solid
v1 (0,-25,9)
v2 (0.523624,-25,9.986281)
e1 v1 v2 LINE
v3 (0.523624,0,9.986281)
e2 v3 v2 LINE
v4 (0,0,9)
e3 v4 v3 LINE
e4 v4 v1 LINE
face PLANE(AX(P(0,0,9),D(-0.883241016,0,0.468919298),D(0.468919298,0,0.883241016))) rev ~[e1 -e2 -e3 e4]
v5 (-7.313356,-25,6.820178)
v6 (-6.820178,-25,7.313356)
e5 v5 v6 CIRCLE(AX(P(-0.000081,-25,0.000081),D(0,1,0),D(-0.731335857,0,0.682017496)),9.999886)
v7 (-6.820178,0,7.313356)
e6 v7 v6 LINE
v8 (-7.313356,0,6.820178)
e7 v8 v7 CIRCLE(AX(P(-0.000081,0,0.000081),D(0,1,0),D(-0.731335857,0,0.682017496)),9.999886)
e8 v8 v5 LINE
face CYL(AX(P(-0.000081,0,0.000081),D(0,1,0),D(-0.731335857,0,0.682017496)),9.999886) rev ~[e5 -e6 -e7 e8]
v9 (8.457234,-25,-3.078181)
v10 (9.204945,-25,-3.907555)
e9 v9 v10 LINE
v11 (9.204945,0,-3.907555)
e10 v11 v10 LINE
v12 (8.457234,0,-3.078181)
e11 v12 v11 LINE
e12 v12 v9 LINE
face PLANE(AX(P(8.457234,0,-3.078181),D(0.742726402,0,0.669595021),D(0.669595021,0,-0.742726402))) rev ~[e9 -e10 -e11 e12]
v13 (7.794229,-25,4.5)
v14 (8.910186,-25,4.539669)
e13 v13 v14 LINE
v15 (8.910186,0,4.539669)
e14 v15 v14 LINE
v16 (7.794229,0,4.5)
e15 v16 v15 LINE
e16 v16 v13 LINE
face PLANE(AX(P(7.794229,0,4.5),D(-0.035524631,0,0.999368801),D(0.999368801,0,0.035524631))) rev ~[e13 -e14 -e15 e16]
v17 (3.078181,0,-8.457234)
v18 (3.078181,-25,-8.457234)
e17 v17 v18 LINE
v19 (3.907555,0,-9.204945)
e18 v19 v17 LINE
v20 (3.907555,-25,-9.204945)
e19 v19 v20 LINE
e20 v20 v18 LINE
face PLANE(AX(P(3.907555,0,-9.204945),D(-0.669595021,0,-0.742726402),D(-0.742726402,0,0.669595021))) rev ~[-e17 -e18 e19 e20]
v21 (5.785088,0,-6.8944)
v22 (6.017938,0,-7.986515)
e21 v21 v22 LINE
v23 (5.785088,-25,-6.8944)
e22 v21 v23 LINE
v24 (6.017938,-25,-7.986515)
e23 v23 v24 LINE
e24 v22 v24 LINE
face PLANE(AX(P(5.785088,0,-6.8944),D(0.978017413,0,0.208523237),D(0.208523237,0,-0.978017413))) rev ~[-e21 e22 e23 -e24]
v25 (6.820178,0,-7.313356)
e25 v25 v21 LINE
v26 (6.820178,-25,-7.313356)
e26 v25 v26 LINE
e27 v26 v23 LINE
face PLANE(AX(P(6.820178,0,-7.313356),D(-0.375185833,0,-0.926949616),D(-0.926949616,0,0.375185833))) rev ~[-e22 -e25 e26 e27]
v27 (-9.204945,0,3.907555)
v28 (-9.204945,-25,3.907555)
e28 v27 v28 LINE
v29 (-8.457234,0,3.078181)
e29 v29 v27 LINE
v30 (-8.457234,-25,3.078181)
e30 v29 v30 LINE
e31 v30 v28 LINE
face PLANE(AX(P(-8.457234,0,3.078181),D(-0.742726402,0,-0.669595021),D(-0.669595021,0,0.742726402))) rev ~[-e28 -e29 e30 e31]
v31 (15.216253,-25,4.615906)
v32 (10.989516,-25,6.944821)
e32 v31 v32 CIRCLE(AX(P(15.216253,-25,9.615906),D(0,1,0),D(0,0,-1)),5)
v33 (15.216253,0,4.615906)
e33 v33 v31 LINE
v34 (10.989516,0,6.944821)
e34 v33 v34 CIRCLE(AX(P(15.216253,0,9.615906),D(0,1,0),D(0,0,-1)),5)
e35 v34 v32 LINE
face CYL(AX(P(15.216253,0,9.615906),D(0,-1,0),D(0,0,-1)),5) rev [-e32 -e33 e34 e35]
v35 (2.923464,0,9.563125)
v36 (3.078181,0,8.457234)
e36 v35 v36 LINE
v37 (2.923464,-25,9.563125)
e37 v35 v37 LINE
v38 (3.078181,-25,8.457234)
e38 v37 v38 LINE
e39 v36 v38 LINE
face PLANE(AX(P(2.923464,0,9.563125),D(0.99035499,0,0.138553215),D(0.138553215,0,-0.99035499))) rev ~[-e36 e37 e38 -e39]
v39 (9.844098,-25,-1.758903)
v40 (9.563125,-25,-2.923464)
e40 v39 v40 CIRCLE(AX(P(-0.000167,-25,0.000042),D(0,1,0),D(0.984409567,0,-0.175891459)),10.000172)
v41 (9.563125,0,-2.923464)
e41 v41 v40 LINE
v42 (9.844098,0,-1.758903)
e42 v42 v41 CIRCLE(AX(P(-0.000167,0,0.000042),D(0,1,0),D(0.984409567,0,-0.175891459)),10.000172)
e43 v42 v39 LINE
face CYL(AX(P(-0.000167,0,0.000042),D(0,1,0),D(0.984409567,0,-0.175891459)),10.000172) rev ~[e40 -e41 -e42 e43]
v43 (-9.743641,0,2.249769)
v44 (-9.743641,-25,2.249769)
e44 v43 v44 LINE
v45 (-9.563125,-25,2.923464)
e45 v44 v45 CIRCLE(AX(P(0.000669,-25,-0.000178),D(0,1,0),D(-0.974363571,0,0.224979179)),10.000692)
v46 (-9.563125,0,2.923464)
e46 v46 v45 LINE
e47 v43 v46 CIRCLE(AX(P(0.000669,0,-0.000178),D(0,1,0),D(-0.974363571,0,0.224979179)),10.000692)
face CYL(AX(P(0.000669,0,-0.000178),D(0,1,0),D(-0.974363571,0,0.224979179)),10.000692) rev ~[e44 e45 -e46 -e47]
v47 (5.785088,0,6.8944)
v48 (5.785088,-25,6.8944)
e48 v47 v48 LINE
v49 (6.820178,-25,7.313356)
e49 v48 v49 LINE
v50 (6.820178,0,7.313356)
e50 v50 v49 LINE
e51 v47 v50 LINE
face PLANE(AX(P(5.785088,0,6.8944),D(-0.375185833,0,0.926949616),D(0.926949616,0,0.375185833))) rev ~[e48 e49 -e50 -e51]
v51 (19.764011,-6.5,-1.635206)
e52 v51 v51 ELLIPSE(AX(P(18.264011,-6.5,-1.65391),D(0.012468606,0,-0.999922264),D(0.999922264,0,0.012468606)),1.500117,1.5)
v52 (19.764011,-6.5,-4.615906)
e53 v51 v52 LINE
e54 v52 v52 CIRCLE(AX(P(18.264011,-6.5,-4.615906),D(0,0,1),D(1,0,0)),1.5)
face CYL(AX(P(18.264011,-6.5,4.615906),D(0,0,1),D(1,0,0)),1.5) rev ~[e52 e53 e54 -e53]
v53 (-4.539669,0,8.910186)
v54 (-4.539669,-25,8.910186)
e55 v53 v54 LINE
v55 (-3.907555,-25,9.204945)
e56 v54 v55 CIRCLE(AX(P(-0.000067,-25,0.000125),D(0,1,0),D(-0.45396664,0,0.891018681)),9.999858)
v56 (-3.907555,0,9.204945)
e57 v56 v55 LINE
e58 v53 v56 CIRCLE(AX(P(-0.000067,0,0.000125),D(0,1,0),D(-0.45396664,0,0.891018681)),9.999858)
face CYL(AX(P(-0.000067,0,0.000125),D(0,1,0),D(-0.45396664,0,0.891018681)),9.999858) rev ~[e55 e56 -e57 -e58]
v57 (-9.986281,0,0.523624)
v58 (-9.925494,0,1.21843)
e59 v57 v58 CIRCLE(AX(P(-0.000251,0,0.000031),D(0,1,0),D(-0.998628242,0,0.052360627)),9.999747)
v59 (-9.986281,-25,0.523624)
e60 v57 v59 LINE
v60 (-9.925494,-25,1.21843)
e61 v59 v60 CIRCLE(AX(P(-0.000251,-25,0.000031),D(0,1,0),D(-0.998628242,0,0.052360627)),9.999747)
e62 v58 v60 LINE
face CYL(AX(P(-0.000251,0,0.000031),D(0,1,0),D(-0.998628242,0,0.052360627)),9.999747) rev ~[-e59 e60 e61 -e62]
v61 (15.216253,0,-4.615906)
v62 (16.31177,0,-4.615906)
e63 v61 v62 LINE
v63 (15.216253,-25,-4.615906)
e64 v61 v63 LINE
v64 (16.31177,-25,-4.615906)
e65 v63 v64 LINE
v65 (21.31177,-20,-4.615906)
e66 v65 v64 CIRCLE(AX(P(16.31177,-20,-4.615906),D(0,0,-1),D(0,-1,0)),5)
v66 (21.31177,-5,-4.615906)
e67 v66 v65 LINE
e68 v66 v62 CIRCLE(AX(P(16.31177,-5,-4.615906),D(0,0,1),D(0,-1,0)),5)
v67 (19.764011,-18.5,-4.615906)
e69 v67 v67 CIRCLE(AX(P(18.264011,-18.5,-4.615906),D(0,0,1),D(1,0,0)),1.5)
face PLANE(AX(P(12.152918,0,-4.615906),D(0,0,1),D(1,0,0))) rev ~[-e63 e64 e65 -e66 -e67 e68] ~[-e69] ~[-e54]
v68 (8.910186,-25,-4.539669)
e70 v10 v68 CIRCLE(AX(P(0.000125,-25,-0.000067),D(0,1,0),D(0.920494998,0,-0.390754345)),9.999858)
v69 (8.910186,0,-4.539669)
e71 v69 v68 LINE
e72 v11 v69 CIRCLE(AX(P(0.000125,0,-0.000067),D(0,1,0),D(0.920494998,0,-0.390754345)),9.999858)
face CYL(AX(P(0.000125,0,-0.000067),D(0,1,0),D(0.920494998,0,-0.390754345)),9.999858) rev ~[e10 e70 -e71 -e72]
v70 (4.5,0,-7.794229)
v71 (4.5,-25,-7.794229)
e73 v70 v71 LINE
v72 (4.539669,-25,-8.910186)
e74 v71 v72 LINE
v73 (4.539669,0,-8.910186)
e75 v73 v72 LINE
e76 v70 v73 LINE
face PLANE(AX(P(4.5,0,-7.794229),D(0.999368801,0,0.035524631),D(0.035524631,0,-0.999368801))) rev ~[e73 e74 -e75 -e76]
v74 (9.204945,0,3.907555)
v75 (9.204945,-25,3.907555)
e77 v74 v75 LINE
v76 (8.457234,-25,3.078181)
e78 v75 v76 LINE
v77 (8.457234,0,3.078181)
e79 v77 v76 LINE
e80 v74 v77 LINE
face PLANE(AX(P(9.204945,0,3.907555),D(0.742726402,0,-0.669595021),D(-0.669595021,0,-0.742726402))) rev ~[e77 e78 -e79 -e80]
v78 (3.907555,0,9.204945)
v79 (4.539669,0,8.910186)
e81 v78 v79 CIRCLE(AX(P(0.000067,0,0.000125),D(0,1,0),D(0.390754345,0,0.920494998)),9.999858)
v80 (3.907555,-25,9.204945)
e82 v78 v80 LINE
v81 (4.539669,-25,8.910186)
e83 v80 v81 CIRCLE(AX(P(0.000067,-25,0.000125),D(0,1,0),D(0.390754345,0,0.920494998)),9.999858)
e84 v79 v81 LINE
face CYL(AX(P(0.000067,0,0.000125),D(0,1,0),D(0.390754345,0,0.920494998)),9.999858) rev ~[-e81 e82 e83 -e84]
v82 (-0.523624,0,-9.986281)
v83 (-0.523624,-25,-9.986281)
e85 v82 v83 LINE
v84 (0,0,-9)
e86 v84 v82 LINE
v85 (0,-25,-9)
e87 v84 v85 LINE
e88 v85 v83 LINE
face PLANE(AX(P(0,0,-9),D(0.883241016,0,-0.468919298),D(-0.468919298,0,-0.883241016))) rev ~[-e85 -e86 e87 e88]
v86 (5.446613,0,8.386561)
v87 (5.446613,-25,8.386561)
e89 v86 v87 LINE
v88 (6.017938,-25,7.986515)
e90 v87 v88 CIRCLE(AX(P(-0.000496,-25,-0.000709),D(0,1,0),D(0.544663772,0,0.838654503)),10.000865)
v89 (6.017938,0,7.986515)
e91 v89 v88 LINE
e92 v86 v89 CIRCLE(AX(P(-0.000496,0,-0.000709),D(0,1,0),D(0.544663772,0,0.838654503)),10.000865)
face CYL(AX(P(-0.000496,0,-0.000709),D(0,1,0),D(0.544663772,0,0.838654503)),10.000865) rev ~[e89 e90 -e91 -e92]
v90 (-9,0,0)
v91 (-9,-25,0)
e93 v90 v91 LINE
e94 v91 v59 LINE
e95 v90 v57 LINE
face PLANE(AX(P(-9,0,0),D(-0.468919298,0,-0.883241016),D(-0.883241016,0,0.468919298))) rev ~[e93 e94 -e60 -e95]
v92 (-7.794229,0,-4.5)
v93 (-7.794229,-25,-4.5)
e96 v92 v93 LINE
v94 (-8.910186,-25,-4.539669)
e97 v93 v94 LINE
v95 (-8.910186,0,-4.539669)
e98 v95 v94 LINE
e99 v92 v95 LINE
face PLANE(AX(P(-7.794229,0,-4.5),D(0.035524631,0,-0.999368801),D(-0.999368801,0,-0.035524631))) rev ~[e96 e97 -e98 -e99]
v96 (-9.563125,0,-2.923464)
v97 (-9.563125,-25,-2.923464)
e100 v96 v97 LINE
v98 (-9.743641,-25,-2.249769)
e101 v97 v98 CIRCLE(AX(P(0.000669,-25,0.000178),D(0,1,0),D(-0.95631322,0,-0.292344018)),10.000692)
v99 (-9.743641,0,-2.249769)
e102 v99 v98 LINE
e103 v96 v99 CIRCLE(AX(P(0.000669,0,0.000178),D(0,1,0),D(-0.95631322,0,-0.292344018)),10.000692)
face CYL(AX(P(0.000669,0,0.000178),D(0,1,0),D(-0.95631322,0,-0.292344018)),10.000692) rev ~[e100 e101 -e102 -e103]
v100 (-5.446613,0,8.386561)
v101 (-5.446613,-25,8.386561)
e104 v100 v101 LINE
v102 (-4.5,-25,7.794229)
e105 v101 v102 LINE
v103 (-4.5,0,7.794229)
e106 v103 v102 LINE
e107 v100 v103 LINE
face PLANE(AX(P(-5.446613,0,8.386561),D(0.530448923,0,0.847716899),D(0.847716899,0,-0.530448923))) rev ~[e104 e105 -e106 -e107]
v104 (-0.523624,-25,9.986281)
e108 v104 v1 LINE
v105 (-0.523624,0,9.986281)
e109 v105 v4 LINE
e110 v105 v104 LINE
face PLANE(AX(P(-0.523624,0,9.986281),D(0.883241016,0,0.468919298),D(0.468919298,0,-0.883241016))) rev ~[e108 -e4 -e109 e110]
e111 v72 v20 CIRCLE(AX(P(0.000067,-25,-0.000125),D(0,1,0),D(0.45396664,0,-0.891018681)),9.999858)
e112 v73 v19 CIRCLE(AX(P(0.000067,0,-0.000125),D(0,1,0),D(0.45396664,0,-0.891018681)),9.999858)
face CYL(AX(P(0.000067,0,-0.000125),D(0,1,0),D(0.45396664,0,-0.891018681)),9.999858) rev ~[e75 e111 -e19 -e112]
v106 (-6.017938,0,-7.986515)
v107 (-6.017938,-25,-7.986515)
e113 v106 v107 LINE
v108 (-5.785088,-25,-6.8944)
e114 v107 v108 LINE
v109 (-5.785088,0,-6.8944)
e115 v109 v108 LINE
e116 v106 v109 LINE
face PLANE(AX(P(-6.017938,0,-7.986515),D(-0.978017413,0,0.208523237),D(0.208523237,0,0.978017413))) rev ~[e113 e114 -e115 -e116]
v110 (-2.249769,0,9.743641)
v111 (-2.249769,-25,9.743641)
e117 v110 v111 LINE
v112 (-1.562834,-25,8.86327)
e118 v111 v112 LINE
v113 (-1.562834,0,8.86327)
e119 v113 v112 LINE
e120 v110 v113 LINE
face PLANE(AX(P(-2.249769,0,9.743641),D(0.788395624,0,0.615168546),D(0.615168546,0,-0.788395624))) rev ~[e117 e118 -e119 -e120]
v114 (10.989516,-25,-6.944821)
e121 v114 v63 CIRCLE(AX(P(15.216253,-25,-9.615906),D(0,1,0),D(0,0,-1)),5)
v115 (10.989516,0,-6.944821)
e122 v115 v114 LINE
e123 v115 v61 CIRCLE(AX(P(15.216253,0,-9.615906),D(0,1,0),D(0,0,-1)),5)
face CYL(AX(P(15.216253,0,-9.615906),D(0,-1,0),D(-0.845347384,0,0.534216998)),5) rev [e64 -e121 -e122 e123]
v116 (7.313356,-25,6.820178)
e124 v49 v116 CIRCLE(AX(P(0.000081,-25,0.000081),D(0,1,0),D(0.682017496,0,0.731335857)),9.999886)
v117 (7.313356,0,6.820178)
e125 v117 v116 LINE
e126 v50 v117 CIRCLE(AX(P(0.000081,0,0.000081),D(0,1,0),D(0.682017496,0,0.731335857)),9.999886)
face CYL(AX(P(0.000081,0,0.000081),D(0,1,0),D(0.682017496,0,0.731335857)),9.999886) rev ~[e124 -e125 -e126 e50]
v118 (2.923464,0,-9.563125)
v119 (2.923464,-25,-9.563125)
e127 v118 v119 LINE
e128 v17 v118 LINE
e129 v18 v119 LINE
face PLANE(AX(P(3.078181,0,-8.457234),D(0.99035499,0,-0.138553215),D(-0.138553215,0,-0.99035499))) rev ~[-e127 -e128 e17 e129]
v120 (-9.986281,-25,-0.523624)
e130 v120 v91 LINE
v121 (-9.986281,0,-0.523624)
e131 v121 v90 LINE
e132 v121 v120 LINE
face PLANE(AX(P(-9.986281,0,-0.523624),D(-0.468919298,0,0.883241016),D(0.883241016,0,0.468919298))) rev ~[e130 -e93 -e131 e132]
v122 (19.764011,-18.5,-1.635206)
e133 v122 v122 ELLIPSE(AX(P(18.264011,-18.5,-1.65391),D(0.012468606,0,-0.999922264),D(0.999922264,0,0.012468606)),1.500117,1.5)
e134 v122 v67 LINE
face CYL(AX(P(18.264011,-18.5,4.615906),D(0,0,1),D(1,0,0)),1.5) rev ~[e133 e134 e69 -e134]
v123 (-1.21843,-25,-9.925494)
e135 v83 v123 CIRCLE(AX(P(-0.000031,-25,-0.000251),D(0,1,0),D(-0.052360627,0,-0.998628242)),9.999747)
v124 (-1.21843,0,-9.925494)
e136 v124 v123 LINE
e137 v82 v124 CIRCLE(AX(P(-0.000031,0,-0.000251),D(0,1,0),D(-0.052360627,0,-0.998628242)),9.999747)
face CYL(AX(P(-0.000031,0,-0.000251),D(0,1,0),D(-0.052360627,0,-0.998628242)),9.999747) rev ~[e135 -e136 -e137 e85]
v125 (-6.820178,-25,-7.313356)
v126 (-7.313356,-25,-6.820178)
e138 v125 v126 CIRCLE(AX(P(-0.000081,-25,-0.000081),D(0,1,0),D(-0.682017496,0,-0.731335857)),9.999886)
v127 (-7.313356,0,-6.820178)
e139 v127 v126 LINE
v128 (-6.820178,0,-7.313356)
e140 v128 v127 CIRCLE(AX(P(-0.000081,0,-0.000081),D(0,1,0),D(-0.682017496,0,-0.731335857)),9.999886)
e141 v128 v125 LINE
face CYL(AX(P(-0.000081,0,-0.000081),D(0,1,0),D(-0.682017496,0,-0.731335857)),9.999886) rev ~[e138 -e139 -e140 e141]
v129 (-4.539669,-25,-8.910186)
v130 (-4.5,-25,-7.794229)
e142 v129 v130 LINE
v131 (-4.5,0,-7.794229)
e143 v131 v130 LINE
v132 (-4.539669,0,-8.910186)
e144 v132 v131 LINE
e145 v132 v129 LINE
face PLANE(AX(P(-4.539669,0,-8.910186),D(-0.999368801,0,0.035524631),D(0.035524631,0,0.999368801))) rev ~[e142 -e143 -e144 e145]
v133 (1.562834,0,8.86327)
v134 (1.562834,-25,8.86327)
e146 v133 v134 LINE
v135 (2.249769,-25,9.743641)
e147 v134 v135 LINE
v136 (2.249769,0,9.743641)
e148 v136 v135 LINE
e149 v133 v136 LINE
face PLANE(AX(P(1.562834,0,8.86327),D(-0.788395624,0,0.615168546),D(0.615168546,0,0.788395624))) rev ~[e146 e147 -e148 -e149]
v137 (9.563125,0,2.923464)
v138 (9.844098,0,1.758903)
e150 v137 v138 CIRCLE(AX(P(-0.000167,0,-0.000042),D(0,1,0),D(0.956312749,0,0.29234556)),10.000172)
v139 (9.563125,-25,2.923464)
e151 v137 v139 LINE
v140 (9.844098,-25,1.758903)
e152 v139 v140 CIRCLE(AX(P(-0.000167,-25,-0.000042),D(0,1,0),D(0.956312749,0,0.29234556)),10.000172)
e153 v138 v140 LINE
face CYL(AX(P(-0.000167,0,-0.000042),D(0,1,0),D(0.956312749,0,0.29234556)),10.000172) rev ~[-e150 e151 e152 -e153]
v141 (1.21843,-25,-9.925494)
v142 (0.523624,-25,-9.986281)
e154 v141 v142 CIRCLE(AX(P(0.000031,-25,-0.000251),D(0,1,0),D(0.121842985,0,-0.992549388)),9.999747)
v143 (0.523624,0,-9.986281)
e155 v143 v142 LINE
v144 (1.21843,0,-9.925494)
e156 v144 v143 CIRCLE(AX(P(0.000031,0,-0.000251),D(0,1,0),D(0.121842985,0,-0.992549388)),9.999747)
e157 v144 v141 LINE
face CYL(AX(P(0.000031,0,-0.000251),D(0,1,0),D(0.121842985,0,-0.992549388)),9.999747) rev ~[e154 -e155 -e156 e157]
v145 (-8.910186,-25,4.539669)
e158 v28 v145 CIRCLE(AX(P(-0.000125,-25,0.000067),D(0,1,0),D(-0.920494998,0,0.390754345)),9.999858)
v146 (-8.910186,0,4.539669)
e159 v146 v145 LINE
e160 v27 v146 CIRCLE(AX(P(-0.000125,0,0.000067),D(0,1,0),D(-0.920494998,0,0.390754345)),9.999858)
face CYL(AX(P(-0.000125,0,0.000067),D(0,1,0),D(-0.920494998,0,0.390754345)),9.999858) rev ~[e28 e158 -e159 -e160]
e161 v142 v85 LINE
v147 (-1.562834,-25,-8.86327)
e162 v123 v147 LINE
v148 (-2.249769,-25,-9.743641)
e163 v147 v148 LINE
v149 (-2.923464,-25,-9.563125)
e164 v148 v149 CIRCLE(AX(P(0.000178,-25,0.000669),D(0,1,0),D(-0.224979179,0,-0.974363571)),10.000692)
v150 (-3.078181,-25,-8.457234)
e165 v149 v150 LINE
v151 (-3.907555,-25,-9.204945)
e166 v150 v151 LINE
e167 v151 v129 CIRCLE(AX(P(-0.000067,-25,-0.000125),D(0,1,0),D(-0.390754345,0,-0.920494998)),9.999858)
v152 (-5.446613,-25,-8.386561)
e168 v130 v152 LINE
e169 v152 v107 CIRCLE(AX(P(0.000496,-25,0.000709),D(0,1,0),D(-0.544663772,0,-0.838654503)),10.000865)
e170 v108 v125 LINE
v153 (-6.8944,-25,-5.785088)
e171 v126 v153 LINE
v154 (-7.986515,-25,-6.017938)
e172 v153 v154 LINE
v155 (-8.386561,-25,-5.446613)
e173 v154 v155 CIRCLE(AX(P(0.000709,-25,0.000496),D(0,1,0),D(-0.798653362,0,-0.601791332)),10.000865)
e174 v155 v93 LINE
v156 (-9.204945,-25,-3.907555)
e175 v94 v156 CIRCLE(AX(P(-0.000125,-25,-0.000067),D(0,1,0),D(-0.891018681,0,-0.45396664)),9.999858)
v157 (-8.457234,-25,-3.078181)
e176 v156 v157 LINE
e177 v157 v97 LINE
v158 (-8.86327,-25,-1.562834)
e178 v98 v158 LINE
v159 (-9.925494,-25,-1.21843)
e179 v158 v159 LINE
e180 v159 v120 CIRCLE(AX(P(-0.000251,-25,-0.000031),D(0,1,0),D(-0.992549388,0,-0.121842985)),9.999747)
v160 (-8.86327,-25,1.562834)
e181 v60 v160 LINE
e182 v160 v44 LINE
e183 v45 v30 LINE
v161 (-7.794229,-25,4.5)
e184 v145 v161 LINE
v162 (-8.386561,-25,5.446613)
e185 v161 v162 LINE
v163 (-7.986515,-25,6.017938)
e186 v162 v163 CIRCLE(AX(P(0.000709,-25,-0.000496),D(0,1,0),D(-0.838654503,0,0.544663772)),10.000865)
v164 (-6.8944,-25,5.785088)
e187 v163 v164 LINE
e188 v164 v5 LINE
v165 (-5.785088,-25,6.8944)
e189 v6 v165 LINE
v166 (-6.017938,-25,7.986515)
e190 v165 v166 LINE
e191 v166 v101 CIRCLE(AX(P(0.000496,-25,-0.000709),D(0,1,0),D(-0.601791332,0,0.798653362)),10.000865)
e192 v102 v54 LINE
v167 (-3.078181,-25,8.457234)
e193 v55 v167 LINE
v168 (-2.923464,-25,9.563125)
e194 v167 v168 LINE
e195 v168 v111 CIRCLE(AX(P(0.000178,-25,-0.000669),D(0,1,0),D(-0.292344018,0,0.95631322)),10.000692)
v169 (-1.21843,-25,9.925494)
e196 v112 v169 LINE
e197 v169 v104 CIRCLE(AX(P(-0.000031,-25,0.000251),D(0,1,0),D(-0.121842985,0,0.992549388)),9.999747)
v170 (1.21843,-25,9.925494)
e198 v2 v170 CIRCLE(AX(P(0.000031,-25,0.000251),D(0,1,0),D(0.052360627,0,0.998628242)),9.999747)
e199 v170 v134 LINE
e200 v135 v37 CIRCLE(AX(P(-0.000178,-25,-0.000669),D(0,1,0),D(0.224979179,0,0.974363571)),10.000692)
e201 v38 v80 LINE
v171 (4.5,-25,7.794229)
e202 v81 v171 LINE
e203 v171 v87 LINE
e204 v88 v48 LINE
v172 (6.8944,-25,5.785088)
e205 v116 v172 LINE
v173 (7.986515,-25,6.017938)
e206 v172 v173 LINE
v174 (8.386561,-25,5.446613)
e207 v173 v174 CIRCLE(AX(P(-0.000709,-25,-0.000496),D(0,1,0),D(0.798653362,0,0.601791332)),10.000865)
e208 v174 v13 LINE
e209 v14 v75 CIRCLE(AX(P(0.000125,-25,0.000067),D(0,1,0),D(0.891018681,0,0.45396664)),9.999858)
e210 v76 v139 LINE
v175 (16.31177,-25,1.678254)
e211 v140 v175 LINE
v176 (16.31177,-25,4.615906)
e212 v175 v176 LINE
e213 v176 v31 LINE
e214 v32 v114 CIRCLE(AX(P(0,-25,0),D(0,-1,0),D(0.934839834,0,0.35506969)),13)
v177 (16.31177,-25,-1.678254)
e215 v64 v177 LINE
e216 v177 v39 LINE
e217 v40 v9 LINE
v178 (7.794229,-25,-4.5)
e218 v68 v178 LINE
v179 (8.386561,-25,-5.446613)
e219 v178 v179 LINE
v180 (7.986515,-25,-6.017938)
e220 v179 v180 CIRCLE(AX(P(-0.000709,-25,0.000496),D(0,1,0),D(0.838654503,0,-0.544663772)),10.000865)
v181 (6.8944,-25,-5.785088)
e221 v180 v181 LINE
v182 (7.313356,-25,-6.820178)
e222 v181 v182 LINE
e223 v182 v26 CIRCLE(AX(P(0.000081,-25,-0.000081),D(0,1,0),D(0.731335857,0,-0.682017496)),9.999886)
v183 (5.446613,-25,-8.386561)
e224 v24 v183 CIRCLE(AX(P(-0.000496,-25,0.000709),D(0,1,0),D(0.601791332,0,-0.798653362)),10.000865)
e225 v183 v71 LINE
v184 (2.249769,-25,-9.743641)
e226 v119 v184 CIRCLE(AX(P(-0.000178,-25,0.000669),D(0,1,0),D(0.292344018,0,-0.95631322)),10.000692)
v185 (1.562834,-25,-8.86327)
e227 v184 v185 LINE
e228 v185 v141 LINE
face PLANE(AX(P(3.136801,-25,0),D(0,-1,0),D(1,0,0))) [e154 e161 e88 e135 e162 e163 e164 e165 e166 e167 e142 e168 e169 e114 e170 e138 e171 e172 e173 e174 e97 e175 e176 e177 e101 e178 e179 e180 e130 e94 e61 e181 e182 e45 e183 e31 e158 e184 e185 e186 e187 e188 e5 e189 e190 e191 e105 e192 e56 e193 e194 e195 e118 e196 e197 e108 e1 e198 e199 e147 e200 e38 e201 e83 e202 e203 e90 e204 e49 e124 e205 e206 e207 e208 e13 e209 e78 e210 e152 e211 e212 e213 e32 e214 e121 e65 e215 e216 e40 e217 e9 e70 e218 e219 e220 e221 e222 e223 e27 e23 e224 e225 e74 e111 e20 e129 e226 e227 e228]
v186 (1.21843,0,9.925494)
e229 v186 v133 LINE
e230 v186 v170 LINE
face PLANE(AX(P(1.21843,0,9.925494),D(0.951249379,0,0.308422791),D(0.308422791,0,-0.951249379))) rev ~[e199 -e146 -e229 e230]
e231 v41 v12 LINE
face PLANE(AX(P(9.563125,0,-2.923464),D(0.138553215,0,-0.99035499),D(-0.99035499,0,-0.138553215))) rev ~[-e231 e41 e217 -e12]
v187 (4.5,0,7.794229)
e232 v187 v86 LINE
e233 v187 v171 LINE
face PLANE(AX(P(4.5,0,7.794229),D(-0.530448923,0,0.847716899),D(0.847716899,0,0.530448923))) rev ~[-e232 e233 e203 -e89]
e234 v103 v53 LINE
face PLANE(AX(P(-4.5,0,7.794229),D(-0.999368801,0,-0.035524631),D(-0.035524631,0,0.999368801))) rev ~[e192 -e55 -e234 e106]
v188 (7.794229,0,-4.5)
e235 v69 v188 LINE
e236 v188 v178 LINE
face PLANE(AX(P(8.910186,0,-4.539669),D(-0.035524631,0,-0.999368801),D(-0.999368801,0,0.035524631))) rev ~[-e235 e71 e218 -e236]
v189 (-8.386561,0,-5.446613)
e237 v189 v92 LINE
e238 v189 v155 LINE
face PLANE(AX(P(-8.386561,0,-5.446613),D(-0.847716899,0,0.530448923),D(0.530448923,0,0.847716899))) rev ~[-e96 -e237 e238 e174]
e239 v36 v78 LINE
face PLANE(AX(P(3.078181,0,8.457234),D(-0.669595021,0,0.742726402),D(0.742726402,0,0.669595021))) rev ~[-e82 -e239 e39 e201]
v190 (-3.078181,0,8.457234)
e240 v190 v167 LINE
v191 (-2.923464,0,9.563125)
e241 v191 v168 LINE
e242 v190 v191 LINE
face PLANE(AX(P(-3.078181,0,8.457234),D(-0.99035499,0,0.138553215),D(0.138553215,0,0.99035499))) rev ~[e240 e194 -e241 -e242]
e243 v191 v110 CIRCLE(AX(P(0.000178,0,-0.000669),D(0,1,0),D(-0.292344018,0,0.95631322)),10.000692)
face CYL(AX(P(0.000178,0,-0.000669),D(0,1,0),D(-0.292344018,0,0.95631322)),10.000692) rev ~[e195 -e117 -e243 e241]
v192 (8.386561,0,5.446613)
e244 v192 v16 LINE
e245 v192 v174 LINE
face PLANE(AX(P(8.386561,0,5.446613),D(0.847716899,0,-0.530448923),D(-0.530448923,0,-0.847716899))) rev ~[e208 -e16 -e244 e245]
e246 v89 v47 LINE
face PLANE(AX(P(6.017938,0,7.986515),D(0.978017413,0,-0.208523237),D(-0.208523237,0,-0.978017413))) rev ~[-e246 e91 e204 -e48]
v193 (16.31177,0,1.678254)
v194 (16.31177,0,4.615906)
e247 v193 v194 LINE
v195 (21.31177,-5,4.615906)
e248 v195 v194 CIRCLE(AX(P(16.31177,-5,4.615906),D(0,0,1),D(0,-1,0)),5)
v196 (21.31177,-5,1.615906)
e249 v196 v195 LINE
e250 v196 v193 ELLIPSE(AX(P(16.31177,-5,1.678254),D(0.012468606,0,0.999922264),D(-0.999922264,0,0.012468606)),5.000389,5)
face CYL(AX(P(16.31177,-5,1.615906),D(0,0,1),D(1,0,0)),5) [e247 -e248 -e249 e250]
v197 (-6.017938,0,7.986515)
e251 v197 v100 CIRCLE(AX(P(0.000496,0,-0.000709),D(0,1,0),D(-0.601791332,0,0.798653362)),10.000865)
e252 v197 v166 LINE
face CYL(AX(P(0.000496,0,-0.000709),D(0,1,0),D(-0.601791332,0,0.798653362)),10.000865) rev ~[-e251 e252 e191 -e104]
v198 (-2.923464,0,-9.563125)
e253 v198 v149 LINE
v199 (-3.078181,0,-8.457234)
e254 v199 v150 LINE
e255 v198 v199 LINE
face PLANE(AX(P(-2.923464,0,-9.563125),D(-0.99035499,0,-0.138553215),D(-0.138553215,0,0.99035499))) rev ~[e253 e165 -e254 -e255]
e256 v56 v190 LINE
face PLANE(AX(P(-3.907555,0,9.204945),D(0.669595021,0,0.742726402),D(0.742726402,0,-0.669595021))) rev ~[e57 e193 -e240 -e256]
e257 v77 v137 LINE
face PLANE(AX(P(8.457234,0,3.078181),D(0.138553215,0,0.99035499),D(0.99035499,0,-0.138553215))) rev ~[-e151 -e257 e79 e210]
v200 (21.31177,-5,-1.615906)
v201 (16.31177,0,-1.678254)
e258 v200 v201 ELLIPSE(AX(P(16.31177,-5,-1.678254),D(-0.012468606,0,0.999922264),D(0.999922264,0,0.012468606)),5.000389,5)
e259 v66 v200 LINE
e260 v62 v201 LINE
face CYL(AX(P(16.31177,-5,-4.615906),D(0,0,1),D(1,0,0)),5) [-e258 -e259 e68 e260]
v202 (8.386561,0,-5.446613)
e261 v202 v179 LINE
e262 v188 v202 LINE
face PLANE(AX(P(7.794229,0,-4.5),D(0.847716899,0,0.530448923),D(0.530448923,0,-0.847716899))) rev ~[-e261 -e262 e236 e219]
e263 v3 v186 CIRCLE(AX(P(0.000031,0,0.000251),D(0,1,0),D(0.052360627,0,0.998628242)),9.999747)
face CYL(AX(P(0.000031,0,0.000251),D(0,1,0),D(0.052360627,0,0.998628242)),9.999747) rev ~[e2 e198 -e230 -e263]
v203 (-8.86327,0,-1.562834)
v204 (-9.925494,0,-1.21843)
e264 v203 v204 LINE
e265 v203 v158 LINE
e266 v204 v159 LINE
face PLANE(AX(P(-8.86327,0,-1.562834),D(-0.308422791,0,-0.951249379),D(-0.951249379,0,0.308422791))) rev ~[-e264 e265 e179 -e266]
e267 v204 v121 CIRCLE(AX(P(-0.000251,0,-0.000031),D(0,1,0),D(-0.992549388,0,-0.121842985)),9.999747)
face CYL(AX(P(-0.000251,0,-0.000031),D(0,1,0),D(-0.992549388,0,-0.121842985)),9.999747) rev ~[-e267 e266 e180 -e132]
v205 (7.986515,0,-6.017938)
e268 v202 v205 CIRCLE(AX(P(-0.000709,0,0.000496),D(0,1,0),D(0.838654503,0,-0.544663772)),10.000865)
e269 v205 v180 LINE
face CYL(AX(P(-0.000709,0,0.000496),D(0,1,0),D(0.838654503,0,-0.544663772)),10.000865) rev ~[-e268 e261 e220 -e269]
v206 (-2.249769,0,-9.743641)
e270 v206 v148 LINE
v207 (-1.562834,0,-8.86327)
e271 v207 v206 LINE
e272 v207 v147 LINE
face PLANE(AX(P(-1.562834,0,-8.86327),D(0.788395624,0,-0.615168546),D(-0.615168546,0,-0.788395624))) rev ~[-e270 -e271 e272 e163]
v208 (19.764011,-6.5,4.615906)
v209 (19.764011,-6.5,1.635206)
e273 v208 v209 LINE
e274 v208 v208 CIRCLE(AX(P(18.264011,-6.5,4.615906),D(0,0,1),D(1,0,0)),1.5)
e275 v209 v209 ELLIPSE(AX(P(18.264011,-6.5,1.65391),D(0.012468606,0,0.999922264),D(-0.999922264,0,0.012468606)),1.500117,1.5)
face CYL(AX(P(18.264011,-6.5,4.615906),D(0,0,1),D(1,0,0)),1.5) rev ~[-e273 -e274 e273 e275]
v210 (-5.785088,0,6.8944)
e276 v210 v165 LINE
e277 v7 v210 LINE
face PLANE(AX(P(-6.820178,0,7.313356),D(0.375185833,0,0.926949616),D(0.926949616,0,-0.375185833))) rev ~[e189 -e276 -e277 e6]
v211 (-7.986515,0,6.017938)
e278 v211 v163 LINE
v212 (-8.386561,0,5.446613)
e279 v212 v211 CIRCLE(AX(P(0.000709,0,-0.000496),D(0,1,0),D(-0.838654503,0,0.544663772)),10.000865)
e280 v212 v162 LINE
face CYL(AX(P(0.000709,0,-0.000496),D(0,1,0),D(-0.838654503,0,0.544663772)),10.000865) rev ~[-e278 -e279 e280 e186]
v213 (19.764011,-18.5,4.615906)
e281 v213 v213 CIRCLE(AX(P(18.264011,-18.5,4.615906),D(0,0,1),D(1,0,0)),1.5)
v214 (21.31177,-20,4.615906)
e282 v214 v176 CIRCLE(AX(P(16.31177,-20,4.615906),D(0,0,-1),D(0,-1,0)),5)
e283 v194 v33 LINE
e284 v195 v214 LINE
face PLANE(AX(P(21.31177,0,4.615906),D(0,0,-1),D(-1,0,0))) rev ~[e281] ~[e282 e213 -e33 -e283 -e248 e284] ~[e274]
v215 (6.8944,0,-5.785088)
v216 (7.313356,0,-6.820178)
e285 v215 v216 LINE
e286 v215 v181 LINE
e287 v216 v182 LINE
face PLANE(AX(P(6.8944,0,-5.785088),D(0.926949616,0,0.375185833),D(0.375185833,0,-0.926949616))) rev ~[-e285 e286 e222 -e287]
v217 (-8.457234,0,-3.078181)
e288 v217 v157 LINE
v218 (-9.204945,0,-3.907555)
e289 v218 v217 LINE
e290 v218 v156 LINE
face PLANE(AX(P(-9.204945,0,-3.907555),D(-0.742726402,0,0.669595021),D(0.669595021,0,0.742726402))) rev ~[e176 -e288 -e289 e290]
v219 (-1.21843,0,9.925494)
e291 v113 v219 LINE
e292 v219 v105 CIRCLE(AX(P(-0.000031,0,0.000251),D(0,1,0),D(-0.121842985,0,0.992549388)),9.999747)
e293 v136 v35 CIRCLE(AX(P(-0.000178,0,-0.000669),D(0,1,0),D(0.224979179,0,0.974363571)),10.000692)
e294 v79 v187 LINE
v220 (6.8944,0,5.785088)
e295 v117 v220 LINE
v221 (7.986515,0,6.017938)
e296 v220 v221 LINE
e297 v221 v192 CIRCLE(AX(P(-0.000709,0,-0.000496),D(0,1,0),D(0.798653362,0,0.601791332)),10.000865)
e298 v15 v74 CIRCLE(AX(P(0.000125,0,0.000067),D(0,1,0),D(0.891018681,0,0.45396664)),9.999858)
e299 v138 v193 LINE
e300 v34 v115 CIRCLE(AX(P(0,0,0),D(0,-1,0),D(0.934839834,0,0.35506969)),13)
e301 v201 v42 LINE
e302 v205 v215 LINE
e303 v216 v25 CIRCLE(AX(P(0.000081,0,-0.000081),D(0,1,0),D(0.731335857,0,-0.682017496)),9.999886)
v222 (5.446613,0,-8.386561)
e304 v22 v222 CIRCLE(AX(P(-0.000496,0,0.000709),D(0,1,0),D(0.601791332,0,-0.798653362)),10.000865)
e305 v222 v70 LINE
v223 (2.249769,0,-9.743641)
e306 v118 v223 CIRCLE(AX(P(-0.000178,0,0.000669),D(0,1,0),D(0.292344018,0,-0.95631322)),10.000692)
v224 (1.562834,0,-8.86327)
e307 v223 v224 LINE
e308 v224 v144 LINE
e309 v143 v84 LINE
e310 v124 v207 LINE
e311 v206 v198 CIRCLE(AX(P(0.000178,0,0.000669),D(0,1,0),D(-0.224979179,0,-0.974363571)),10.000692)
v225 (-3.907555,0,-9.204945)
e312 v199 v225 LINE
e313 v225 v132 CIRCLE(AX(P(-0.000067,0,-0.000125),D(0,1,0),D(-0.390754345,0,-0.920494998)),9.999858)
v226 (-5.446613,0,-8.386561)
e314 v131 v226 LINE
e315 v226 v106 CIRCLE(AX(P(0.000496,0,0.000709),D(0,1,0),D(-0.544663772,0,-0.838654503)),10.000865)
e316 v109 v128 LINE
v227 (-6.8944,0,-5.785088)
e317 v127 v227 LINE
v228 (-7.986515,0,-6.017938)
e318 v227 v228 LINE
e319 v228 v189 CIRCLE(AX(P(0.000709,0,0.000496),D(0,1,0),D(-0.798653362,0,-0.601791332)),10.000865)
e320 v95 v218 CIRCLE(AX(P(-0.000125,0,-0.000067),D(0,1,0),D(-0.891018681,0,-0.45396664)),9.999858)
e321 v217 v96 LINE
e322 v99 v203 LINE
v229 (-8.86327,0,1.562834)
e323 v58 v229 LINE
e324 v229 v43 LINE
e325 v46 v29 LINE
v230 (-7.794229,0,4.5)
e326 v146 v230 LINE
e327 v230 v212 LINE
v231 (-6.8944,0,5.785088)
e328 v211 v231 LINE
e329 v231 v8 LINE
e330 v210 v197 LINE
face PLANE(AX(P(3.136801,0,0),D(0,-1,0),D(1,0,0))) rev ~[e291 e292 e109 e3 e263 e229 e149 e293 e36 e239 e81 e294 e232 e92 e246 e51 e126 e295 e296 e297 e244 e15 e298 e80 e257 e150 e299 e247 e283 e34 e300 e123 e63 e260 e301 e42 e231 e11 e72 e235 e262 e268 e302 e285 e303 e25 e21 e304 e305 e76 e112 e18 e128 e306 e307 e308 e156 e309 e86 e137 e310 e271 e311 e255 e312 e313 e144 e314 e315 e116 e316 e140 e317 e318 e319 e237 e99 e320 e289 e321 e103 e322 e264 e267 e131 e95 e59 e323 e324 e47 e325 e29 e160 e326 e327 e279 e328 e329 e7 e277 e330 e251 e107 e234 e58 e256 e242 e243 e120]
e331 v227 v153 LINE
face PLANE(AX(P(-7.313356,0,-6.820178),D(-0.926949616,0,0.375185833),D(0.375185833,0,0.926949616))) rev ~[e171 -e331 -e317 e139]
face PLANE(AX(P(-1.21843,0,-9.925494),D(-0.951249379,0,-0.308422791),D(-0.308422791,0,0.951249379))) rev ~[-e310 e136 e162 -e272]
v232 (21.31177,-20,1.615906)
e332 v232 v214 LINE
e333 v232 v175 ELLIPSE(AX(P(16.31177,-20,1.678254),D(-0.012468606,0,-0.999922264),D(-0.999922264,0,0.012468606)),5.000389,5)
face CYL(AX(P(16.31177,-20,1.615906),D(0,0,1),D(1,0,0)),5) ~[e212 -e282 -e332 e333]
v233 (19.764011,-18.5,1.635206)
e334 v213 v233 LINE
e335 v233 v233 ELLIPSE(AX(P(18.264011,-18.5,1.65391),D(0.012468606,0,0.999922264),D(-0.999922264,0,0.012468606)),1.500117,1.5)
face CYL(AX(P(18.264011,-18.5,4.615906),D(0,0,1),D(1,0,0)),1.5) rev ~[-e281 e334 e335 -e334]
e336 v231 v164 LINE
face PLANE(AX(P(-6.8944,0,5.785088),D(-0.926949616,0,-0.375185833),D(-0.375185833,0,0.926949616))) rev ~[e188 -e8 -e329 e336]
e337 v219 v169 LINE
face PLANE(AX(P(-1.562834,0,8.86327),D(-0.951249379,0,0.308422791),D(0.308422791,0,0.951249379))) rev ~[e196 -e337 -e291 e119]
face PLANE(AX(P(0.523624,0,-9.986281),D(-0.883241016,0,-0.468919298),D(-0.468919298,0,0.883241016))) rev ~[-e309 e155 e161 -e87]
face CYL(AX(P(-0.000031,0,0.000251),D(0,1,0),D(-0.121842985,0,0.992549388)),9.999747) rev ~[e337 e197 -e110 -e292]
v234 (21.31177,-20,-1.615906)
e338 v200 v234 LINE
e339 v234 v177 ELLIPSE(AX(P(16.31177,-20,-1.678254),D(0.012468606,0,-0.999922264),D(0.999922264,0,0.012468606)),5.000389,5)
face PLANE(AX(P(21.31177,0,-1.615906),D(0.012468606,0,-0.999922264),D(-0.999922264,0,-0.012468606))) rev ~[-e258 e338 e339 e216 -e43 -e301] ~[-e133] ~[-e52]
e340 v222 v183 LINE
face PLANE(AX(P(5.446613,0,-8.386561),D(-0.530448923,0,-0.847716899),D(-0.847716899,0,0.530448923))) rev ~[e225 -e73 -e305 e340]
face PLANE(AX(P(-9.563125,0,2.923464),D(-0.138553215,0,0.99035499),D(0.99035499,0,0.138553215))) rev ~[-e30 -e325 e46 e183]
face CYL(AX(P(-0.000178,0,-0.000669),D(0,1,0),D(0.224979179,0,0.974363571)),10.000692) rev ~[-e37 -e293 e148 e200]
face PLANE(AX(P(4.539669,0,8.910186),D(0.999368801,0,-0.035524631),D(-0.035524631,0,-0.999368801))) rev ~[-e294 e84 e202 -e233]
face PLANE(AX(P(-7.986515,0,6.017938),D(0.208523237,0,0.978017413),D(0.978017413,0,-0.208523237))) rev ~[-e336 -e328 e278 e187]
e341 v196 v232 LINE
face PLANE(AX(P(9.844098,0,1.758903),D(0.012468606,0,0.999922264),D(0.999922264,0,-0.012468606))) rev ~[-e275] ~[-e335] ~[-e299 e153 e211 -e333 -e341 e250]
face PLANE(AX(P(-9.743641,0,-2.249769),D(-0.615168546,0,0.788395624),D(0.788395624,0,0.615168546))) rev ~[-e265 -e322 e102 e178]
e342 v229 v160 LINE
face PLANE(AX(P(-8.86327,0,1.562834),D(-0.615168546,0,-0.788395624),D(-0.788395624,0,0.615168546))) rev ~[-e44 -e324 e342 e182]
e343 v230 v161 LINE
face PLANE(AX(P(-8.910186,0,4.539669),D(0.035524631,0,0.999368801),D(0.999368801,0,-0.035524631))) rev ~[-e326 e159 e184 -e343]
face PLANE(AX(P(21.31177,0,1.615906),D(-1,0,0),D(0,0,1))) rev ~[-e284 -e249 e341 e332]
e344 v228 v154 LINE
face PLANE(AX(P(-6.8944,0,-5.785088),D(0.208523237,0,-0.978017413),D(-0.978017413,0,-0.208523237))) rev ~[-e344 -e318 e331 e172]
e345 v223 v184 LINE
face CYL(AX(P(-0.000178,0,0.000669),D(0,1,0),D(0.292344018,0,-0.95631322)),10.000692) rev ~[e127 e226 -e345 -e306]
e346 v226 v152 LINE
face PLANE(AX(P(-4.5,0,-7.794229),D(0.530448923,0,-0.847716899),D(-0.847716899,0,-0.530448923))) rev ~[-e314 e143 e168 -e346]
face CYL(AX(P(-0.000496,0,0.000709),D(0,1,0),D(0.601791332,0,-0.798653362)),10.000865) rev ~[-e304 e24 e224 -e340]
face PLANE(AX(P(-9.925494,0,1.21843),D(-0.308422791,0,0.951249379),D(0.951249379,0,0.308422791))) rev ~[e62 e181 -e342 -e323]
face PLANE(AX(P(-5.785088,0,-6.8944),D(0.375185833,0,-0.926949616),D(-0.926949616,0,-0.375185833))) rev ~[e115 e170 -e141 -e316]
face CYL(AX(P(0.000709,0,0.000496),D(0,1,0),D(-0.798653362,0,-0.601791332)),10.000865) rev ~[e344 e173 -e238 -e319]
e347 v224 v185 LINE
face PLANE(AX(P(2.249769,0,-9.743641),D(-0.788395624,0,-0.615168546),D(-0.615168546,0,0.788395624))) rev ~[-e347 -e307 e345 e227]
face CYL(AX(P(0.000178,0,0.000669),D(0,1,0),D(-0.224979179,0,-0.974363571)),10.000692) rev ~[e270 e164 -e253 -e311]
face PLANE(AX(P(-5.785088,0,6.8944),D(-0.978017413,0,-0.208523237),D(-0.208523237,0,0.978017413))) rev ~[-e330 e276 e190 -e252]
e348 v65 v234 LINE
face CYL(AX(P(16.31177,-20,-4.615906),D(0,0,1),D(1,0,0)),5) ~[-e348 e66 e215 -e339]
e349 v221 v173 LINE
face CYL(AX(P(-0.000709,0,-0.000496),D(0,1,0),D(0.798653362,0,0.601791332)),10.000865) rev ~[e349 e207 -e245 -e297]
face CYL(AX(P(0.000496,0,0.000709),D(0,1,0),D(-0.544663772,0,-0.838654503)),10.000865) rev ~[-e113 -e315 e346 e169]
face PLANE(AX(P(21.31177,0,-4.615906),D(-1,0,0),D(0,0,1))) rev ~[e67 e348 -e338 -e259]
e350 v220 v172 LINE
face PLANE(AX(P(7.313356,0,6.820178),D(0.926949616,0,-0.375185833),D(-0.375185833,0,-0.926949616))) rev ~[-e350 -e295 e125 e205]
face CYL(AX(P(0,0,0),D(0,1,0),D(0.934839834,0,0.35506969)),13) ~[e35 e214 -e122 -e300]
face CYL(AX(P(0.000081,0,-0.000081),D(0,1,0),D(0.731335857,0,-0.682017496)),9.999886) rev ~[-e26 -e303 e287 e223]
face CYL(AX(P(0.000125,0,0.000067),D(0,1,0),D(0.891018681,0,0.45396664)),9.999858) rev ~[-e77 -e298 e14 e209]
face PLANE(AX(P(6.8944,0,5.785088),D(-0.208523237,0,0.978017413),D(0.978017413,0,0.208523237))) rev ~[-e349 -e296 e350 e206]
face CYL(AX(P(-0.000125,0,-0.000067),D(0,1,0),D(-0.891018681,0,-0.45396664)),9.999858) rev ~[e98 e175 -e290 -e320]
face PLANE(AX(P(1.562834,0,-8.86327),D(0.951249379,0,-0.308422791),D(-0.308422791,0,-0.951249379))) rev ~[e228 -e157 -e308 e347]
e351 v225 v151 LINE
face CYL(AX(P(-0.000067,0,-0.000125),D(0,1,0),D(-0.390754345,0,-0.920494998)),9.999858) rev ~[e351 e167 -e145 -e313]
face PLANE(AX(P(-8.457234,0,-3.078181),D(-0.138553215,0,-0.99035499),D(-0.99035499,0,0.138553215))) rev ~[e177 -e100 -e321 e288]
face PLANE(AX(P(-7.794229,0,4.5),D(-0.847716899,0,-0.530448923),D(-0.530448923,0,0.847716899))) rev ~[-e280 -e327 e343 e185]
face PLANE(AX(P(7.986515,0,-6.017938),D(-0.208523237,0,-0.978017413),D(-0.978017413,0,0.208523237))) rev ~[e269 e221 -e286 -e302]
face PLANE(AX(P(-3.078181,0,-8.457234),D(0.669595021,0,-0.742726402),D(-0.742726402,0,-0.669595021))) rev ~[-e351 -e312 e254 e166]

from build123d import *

# Parameters (mm, degrees)
F1_DEPTH = 25
F2_R     = 5
F3_R     = 1.5
F4_DEPTH = 9.231813


with BuildPart() as f1:
    # F0 (on Front) → F1 (new body)
    with BuildSketch(Plane.XZ):
        with BuildLine():
            ThreePointArc((-4.539669, 8.910186), (-4.226183, 9.063078), (-3.907555, 9.204945))
            Line((-3.907555, 9.204945), (-3.078181, 8.457234))
            Line((-3.078181, 8.457234), (-2.923464, 9.563125))
            ThreePointArc((-2.923464, 9.563125), (-2.58819, 9.659258), (-2.249769, 9.743641))
            Line((-2.249769, 9.743641), (-1.562834, 8.86327))
            Line((-1.562834, 8.86327), (-1.21843, 9.925494))
            ThreePointArc((-1.21843, 9.925494), (-0.871557, 9.961947), (-0.523624, 9.986281))
            Line((-0.523624, 9.986281), (0, 9))
            Line((0, 9), (0.523624, 9.986281))
            ThreePointArc((0.523624, 9.986281), (0.871557, 9.961947), (1.21843, 9.925494))
            Line((1.21843, 9.925494), (1.562834, 8.86327))
            Line((1.562834, 8.86327), (2.249769, 9.743641))
            ThreePointArc((2.249769, 9.743641), (2.58819, 9.659258), (2.923464, 9.563125))
            Line((2.923464, 9.563125), (3.078181, 8.457234))
            Line((3.078181, 8.457234), (3.907555, 9.204945))
            ThreePointArc((3.907555, 9.204945), (4.226183, 9.063078), (4.539669, 8.910186))
            Line((4.539669, 8.910186), (4.5, 7.794229))
            Line((4.5, 7.794229), (5.446613, 8.386561))
            ThreePointArc((5.446613, 8.386561), (5.735764, 8.19152), (6.017938, 7.986515))
            Line((6.017938, 7.986515), (5.785088, 6.8944))
            Line((5.785088, 6.8944), (6.820178, 7.313356))
            ThreePointArc((6.820178, 7.313356), (7.071068, 7.071068), (7.313356, 6.820178))
            Line((7.313356, 6.820178), (6.8944, 5.785088))
            Line((6.8944, 5.785088), (7.986515, 6.017938))
            ThreePointArc((7.986515, 6.017938), (8.19152, 5.735764), (8.386561, 5.446613))
            Line((8.386561, 5.446613), (7.794229, 4.5))
            Line((7.794229, 4.5), (8.910186, 4.539669))
            ThreePointArc((8.910186, 4.539669), (9.063078, 4.226183), (9.204945, 3.907555))
            Line((9.204945, 3.907555), (8.457234, 3.078181))
            Line((8.457234, 3.078181), (9.563125, 2.923464))
            ThreePointArc((9.563125, 2.923464), (9.721066, 2.345394), (9.844098, 1.758903))
            Line((9.844098, 1.758903), (21.31177, 1.615906))
            Line((21.31177, 1.615906), (21.31177, 4.615906))
            Line((21.31177, 4.615906), (12.152918, 4.615906))
            ThreePointArc((12.152918, 4.615906), (-13, 0), (12.152918, -4.615906))
            Line((12.152918, -4.615906), (21.31177, -4.615906))
            Line((21.31177, -4.615906), (21.31177, -1.615906))
            Line((21.31177, -1.615906), (9.844098, -1.758903))
            ThreePointArc((9.844098, -1.758903), (9.721066, -2.345394), (9.563125, -2.923464))
            Line((9.563125, -2.923464), (8.457234, -3.078181))
            Line((8.457234, -3.078181), (9.204945, -3.907555))
            ThreePointArc((9.204945, -3.907555), (9.063078, -4.226183), (8.910186, -4.539669))
            Line((8.910186, -4.539669), (7.794229, -4.5))
            Line((7.794229, -4.5), (8.386561, -5.446613))
            ThreePointArc((8.386561, -5.446613), (8.19152, -5.735764), (7.986515, -6.017938))
            Line((7.986515, -6.017938), (6.8944, -5.785088))
            Line((6.8944, -5.785088), (7.313356, -6.820178))
            ThreePointArc((7.313356, -6.820178), (7.071068, -7.071068), (6.820178, -7.313356))
            Line((6.820178, -7.313356), (5.785088, -6.8944))
            Line((5.785088, -6.8944), (6.017938, -7.986515))
            ThreePointArc((6.017938, -7.986515), (5.735764, -8.19152), (5.446613, -8.386561))
            Line((5.446613, -8.386561), (4.5, -7.794229))
            Line((4.5, -7.794229), (4.539669, -8.910186))
            ThreePointArc((4.539669, -8.910186), (4.226183, -9.063078), (3.907555, -9.204945))
            Line((3.907555, -9.204945), (3.078181, -8.457234))
            Line((3.078181, -8.457234), (2.923464, -9.563125))
            ThreePointArc((2.923464, -9.563125), (2.58819, -9.659258), (2.249769, -9.743641))
            Line((2.249769, -9.743641), (1.562834, -8.86327))
            Line((1.562834, -8.86327), (1.21843, -9.925494))
            ThreePointArc((1.21843, -9.925494), (0.871557, -9.961947), (0.523624, -9.986281))
            Line((0.523624, -9.986281), (0, -9))
            Line((0, -9), (-0.523624, -9.986281))
            ThreePointArc((-0.523624, -9.986281), (-0.871557, -9.961947), (-1.21843, -9.925494))
            Line((-1.21843, -9.925494), (-1.562834, -8.86327))
            Line((-1.562834, -8.86327), (-2.249769, -9.743641))
            ThreePointArc((-2.249769, -9.743641), (-2.58819, -9.659258), (-2.923464, -9.563125))
            Line((-2.923464, -9.563125), (-3.078181, -8.457234))
            Line((-3.078181, -8.457234), (-3.907555, -9.204945))
            ThreePointArc((-3.907555, -9.204945), (-4.226183, -9.063078), (-4.539669, -8.910186))
            Line((-4.539669, -8.910186), (-4.5, -7.794229))
            Line((-4.5, -7.794229), (-5.446613, -8.386561))
            ThreePointArc((-5.446613, -8.386561), (-5.735764, -8.19152), (-6.017938, -7.986515))
            Line((-6.017938, -7.986515), (-5.785088, -6.8944))
            Line((-5.785088, -6.8944), (-6.820178, -7.313356))
            ThreePointArc((-6.820178, -7.313356), (-7.071068, -7.071068), (-7.313356, -6.820178))
            Line((-7.313356, -6.820178), (-6.8944, -5.785088))
            Line((-6.8944, -5.785088), (-7.986515, -6.017938))
            ThreePointArc((-7.986515, -6.017938), (-8.19152, -5.735764), (-8.386561, -5.446613))
            Line((-8.386561, -5.446613), (-7.794229, -4.5))
            Line((-7.794229, -4.5), (-8.910186, -4.539669))
            ThreePointArc((-8.910186, -4.539669), (-9.063078, -4.226183), (-9.204945, -3.907555))
            Line((-9.204945, -3.907555), (-8.457234, -3.078181))
            Line((-8.457234, -3.078181), (-9.563125, -2.923464))
            ThreePointArc((-9.563125, -2.923464), (-9.659258, -2.58819), (-9.743641, -2.249769))
            Line((-9.743641, -2.249769), (-8.86327, -1.562834))
            Line((-8.86327, -1.562834), (-9.925494, -1.21843))
            ThreePointArc((-9.925494, -1.21843), (-9.961947, -0.871557), (-9.986281, -0.523624))
            Line((-9.986281, -0.523624), (-9, 0))
            Line((-9, 0), (-9.986281, 0.523624))
            ThreePointArc((-9.986281, 0.523624), (-9.961947, 0.871557), (-9.925494, 1.21843))
            Line((-9.925494, 1.21843), (-8.86327, 1.562834))
            Line((-8.86327, 1.562834), (-9.743641, 2.249769))
            ThreePointArc((-9.743641, 2.249769), (-9.659258, 2.58819), (-9.563125, 2.923464))
            Line((-9.563125, 2.923464), (-8.457234, 3.078181))
            Line((-8.457234, 3.078181), (-9.204945, 3.907555))
            ThreePointArc((-9.204945, 3.907555), (-9.063078, 4.226183), (-8.910186, 4.539669))
            Line((-8.910186, 4.539669), (-7.794229, 4.5))
            Line((-7.794229, 4.5), (-8.386561, 5.446613))
            ThreePointArc((-8.386561, 5.446613), (-8.19152, 5.735764), (-7.986515, 6.017938))
            Line((-7.986515, 6.017938), (-6.8944, 5.785088))
            Line((-6.8944, 5.785088), (-7.313356, 6.820178))
            ThreePointArc((-7.313356, 6.820178), (-7.071068, 7.071068), (-6.820178, 7.313356))
            Line((-6.820178, 7.313356), (-5.785088, 6.8944))
            Line((-5.785088, 6.8944), (-6.017938, 7.986515))
            ThreePointArc((-6.017938, 7.986515), (-5.735764, 8.19152), (-5.446613, 8.386561))
            Line((-5.446613, 8.386561), (-4.5, 7.794229))
            Line((-4.5, 7.794229), (-4.539669, 8.910186))
        make_face()
    extrude(amount=F1_DEPTH)

    # F2
    f2_edges = [f1.edges().sort_by_distance(p)[0] for p in [
        (12.152918, -12.5, 4.615906),
        (12.152918, -12.5, -4.615906),
        (21.31177, -25, 3.115906),
        (21.31177, -25, -3.115906),
        (21.31177, 0, 3.115906),
        (21.31177, 0, -3.115906),
    ]]
    fillet(f2_edges, radius=F2_R)

    # F3 (on face) → F4 (cut, through all)
    with BuildSketch(Plane.XY.offset(4.615906)):
        with Locations((18.264011, -6.5)):
            Circle(F3_R)
        with Locations((18.264011, -18.5)):
            Circle(F3_R)
    extrude(amount=-F4_DEPTH, mode=Mode.SUBTRACT)


solid = f1.part
